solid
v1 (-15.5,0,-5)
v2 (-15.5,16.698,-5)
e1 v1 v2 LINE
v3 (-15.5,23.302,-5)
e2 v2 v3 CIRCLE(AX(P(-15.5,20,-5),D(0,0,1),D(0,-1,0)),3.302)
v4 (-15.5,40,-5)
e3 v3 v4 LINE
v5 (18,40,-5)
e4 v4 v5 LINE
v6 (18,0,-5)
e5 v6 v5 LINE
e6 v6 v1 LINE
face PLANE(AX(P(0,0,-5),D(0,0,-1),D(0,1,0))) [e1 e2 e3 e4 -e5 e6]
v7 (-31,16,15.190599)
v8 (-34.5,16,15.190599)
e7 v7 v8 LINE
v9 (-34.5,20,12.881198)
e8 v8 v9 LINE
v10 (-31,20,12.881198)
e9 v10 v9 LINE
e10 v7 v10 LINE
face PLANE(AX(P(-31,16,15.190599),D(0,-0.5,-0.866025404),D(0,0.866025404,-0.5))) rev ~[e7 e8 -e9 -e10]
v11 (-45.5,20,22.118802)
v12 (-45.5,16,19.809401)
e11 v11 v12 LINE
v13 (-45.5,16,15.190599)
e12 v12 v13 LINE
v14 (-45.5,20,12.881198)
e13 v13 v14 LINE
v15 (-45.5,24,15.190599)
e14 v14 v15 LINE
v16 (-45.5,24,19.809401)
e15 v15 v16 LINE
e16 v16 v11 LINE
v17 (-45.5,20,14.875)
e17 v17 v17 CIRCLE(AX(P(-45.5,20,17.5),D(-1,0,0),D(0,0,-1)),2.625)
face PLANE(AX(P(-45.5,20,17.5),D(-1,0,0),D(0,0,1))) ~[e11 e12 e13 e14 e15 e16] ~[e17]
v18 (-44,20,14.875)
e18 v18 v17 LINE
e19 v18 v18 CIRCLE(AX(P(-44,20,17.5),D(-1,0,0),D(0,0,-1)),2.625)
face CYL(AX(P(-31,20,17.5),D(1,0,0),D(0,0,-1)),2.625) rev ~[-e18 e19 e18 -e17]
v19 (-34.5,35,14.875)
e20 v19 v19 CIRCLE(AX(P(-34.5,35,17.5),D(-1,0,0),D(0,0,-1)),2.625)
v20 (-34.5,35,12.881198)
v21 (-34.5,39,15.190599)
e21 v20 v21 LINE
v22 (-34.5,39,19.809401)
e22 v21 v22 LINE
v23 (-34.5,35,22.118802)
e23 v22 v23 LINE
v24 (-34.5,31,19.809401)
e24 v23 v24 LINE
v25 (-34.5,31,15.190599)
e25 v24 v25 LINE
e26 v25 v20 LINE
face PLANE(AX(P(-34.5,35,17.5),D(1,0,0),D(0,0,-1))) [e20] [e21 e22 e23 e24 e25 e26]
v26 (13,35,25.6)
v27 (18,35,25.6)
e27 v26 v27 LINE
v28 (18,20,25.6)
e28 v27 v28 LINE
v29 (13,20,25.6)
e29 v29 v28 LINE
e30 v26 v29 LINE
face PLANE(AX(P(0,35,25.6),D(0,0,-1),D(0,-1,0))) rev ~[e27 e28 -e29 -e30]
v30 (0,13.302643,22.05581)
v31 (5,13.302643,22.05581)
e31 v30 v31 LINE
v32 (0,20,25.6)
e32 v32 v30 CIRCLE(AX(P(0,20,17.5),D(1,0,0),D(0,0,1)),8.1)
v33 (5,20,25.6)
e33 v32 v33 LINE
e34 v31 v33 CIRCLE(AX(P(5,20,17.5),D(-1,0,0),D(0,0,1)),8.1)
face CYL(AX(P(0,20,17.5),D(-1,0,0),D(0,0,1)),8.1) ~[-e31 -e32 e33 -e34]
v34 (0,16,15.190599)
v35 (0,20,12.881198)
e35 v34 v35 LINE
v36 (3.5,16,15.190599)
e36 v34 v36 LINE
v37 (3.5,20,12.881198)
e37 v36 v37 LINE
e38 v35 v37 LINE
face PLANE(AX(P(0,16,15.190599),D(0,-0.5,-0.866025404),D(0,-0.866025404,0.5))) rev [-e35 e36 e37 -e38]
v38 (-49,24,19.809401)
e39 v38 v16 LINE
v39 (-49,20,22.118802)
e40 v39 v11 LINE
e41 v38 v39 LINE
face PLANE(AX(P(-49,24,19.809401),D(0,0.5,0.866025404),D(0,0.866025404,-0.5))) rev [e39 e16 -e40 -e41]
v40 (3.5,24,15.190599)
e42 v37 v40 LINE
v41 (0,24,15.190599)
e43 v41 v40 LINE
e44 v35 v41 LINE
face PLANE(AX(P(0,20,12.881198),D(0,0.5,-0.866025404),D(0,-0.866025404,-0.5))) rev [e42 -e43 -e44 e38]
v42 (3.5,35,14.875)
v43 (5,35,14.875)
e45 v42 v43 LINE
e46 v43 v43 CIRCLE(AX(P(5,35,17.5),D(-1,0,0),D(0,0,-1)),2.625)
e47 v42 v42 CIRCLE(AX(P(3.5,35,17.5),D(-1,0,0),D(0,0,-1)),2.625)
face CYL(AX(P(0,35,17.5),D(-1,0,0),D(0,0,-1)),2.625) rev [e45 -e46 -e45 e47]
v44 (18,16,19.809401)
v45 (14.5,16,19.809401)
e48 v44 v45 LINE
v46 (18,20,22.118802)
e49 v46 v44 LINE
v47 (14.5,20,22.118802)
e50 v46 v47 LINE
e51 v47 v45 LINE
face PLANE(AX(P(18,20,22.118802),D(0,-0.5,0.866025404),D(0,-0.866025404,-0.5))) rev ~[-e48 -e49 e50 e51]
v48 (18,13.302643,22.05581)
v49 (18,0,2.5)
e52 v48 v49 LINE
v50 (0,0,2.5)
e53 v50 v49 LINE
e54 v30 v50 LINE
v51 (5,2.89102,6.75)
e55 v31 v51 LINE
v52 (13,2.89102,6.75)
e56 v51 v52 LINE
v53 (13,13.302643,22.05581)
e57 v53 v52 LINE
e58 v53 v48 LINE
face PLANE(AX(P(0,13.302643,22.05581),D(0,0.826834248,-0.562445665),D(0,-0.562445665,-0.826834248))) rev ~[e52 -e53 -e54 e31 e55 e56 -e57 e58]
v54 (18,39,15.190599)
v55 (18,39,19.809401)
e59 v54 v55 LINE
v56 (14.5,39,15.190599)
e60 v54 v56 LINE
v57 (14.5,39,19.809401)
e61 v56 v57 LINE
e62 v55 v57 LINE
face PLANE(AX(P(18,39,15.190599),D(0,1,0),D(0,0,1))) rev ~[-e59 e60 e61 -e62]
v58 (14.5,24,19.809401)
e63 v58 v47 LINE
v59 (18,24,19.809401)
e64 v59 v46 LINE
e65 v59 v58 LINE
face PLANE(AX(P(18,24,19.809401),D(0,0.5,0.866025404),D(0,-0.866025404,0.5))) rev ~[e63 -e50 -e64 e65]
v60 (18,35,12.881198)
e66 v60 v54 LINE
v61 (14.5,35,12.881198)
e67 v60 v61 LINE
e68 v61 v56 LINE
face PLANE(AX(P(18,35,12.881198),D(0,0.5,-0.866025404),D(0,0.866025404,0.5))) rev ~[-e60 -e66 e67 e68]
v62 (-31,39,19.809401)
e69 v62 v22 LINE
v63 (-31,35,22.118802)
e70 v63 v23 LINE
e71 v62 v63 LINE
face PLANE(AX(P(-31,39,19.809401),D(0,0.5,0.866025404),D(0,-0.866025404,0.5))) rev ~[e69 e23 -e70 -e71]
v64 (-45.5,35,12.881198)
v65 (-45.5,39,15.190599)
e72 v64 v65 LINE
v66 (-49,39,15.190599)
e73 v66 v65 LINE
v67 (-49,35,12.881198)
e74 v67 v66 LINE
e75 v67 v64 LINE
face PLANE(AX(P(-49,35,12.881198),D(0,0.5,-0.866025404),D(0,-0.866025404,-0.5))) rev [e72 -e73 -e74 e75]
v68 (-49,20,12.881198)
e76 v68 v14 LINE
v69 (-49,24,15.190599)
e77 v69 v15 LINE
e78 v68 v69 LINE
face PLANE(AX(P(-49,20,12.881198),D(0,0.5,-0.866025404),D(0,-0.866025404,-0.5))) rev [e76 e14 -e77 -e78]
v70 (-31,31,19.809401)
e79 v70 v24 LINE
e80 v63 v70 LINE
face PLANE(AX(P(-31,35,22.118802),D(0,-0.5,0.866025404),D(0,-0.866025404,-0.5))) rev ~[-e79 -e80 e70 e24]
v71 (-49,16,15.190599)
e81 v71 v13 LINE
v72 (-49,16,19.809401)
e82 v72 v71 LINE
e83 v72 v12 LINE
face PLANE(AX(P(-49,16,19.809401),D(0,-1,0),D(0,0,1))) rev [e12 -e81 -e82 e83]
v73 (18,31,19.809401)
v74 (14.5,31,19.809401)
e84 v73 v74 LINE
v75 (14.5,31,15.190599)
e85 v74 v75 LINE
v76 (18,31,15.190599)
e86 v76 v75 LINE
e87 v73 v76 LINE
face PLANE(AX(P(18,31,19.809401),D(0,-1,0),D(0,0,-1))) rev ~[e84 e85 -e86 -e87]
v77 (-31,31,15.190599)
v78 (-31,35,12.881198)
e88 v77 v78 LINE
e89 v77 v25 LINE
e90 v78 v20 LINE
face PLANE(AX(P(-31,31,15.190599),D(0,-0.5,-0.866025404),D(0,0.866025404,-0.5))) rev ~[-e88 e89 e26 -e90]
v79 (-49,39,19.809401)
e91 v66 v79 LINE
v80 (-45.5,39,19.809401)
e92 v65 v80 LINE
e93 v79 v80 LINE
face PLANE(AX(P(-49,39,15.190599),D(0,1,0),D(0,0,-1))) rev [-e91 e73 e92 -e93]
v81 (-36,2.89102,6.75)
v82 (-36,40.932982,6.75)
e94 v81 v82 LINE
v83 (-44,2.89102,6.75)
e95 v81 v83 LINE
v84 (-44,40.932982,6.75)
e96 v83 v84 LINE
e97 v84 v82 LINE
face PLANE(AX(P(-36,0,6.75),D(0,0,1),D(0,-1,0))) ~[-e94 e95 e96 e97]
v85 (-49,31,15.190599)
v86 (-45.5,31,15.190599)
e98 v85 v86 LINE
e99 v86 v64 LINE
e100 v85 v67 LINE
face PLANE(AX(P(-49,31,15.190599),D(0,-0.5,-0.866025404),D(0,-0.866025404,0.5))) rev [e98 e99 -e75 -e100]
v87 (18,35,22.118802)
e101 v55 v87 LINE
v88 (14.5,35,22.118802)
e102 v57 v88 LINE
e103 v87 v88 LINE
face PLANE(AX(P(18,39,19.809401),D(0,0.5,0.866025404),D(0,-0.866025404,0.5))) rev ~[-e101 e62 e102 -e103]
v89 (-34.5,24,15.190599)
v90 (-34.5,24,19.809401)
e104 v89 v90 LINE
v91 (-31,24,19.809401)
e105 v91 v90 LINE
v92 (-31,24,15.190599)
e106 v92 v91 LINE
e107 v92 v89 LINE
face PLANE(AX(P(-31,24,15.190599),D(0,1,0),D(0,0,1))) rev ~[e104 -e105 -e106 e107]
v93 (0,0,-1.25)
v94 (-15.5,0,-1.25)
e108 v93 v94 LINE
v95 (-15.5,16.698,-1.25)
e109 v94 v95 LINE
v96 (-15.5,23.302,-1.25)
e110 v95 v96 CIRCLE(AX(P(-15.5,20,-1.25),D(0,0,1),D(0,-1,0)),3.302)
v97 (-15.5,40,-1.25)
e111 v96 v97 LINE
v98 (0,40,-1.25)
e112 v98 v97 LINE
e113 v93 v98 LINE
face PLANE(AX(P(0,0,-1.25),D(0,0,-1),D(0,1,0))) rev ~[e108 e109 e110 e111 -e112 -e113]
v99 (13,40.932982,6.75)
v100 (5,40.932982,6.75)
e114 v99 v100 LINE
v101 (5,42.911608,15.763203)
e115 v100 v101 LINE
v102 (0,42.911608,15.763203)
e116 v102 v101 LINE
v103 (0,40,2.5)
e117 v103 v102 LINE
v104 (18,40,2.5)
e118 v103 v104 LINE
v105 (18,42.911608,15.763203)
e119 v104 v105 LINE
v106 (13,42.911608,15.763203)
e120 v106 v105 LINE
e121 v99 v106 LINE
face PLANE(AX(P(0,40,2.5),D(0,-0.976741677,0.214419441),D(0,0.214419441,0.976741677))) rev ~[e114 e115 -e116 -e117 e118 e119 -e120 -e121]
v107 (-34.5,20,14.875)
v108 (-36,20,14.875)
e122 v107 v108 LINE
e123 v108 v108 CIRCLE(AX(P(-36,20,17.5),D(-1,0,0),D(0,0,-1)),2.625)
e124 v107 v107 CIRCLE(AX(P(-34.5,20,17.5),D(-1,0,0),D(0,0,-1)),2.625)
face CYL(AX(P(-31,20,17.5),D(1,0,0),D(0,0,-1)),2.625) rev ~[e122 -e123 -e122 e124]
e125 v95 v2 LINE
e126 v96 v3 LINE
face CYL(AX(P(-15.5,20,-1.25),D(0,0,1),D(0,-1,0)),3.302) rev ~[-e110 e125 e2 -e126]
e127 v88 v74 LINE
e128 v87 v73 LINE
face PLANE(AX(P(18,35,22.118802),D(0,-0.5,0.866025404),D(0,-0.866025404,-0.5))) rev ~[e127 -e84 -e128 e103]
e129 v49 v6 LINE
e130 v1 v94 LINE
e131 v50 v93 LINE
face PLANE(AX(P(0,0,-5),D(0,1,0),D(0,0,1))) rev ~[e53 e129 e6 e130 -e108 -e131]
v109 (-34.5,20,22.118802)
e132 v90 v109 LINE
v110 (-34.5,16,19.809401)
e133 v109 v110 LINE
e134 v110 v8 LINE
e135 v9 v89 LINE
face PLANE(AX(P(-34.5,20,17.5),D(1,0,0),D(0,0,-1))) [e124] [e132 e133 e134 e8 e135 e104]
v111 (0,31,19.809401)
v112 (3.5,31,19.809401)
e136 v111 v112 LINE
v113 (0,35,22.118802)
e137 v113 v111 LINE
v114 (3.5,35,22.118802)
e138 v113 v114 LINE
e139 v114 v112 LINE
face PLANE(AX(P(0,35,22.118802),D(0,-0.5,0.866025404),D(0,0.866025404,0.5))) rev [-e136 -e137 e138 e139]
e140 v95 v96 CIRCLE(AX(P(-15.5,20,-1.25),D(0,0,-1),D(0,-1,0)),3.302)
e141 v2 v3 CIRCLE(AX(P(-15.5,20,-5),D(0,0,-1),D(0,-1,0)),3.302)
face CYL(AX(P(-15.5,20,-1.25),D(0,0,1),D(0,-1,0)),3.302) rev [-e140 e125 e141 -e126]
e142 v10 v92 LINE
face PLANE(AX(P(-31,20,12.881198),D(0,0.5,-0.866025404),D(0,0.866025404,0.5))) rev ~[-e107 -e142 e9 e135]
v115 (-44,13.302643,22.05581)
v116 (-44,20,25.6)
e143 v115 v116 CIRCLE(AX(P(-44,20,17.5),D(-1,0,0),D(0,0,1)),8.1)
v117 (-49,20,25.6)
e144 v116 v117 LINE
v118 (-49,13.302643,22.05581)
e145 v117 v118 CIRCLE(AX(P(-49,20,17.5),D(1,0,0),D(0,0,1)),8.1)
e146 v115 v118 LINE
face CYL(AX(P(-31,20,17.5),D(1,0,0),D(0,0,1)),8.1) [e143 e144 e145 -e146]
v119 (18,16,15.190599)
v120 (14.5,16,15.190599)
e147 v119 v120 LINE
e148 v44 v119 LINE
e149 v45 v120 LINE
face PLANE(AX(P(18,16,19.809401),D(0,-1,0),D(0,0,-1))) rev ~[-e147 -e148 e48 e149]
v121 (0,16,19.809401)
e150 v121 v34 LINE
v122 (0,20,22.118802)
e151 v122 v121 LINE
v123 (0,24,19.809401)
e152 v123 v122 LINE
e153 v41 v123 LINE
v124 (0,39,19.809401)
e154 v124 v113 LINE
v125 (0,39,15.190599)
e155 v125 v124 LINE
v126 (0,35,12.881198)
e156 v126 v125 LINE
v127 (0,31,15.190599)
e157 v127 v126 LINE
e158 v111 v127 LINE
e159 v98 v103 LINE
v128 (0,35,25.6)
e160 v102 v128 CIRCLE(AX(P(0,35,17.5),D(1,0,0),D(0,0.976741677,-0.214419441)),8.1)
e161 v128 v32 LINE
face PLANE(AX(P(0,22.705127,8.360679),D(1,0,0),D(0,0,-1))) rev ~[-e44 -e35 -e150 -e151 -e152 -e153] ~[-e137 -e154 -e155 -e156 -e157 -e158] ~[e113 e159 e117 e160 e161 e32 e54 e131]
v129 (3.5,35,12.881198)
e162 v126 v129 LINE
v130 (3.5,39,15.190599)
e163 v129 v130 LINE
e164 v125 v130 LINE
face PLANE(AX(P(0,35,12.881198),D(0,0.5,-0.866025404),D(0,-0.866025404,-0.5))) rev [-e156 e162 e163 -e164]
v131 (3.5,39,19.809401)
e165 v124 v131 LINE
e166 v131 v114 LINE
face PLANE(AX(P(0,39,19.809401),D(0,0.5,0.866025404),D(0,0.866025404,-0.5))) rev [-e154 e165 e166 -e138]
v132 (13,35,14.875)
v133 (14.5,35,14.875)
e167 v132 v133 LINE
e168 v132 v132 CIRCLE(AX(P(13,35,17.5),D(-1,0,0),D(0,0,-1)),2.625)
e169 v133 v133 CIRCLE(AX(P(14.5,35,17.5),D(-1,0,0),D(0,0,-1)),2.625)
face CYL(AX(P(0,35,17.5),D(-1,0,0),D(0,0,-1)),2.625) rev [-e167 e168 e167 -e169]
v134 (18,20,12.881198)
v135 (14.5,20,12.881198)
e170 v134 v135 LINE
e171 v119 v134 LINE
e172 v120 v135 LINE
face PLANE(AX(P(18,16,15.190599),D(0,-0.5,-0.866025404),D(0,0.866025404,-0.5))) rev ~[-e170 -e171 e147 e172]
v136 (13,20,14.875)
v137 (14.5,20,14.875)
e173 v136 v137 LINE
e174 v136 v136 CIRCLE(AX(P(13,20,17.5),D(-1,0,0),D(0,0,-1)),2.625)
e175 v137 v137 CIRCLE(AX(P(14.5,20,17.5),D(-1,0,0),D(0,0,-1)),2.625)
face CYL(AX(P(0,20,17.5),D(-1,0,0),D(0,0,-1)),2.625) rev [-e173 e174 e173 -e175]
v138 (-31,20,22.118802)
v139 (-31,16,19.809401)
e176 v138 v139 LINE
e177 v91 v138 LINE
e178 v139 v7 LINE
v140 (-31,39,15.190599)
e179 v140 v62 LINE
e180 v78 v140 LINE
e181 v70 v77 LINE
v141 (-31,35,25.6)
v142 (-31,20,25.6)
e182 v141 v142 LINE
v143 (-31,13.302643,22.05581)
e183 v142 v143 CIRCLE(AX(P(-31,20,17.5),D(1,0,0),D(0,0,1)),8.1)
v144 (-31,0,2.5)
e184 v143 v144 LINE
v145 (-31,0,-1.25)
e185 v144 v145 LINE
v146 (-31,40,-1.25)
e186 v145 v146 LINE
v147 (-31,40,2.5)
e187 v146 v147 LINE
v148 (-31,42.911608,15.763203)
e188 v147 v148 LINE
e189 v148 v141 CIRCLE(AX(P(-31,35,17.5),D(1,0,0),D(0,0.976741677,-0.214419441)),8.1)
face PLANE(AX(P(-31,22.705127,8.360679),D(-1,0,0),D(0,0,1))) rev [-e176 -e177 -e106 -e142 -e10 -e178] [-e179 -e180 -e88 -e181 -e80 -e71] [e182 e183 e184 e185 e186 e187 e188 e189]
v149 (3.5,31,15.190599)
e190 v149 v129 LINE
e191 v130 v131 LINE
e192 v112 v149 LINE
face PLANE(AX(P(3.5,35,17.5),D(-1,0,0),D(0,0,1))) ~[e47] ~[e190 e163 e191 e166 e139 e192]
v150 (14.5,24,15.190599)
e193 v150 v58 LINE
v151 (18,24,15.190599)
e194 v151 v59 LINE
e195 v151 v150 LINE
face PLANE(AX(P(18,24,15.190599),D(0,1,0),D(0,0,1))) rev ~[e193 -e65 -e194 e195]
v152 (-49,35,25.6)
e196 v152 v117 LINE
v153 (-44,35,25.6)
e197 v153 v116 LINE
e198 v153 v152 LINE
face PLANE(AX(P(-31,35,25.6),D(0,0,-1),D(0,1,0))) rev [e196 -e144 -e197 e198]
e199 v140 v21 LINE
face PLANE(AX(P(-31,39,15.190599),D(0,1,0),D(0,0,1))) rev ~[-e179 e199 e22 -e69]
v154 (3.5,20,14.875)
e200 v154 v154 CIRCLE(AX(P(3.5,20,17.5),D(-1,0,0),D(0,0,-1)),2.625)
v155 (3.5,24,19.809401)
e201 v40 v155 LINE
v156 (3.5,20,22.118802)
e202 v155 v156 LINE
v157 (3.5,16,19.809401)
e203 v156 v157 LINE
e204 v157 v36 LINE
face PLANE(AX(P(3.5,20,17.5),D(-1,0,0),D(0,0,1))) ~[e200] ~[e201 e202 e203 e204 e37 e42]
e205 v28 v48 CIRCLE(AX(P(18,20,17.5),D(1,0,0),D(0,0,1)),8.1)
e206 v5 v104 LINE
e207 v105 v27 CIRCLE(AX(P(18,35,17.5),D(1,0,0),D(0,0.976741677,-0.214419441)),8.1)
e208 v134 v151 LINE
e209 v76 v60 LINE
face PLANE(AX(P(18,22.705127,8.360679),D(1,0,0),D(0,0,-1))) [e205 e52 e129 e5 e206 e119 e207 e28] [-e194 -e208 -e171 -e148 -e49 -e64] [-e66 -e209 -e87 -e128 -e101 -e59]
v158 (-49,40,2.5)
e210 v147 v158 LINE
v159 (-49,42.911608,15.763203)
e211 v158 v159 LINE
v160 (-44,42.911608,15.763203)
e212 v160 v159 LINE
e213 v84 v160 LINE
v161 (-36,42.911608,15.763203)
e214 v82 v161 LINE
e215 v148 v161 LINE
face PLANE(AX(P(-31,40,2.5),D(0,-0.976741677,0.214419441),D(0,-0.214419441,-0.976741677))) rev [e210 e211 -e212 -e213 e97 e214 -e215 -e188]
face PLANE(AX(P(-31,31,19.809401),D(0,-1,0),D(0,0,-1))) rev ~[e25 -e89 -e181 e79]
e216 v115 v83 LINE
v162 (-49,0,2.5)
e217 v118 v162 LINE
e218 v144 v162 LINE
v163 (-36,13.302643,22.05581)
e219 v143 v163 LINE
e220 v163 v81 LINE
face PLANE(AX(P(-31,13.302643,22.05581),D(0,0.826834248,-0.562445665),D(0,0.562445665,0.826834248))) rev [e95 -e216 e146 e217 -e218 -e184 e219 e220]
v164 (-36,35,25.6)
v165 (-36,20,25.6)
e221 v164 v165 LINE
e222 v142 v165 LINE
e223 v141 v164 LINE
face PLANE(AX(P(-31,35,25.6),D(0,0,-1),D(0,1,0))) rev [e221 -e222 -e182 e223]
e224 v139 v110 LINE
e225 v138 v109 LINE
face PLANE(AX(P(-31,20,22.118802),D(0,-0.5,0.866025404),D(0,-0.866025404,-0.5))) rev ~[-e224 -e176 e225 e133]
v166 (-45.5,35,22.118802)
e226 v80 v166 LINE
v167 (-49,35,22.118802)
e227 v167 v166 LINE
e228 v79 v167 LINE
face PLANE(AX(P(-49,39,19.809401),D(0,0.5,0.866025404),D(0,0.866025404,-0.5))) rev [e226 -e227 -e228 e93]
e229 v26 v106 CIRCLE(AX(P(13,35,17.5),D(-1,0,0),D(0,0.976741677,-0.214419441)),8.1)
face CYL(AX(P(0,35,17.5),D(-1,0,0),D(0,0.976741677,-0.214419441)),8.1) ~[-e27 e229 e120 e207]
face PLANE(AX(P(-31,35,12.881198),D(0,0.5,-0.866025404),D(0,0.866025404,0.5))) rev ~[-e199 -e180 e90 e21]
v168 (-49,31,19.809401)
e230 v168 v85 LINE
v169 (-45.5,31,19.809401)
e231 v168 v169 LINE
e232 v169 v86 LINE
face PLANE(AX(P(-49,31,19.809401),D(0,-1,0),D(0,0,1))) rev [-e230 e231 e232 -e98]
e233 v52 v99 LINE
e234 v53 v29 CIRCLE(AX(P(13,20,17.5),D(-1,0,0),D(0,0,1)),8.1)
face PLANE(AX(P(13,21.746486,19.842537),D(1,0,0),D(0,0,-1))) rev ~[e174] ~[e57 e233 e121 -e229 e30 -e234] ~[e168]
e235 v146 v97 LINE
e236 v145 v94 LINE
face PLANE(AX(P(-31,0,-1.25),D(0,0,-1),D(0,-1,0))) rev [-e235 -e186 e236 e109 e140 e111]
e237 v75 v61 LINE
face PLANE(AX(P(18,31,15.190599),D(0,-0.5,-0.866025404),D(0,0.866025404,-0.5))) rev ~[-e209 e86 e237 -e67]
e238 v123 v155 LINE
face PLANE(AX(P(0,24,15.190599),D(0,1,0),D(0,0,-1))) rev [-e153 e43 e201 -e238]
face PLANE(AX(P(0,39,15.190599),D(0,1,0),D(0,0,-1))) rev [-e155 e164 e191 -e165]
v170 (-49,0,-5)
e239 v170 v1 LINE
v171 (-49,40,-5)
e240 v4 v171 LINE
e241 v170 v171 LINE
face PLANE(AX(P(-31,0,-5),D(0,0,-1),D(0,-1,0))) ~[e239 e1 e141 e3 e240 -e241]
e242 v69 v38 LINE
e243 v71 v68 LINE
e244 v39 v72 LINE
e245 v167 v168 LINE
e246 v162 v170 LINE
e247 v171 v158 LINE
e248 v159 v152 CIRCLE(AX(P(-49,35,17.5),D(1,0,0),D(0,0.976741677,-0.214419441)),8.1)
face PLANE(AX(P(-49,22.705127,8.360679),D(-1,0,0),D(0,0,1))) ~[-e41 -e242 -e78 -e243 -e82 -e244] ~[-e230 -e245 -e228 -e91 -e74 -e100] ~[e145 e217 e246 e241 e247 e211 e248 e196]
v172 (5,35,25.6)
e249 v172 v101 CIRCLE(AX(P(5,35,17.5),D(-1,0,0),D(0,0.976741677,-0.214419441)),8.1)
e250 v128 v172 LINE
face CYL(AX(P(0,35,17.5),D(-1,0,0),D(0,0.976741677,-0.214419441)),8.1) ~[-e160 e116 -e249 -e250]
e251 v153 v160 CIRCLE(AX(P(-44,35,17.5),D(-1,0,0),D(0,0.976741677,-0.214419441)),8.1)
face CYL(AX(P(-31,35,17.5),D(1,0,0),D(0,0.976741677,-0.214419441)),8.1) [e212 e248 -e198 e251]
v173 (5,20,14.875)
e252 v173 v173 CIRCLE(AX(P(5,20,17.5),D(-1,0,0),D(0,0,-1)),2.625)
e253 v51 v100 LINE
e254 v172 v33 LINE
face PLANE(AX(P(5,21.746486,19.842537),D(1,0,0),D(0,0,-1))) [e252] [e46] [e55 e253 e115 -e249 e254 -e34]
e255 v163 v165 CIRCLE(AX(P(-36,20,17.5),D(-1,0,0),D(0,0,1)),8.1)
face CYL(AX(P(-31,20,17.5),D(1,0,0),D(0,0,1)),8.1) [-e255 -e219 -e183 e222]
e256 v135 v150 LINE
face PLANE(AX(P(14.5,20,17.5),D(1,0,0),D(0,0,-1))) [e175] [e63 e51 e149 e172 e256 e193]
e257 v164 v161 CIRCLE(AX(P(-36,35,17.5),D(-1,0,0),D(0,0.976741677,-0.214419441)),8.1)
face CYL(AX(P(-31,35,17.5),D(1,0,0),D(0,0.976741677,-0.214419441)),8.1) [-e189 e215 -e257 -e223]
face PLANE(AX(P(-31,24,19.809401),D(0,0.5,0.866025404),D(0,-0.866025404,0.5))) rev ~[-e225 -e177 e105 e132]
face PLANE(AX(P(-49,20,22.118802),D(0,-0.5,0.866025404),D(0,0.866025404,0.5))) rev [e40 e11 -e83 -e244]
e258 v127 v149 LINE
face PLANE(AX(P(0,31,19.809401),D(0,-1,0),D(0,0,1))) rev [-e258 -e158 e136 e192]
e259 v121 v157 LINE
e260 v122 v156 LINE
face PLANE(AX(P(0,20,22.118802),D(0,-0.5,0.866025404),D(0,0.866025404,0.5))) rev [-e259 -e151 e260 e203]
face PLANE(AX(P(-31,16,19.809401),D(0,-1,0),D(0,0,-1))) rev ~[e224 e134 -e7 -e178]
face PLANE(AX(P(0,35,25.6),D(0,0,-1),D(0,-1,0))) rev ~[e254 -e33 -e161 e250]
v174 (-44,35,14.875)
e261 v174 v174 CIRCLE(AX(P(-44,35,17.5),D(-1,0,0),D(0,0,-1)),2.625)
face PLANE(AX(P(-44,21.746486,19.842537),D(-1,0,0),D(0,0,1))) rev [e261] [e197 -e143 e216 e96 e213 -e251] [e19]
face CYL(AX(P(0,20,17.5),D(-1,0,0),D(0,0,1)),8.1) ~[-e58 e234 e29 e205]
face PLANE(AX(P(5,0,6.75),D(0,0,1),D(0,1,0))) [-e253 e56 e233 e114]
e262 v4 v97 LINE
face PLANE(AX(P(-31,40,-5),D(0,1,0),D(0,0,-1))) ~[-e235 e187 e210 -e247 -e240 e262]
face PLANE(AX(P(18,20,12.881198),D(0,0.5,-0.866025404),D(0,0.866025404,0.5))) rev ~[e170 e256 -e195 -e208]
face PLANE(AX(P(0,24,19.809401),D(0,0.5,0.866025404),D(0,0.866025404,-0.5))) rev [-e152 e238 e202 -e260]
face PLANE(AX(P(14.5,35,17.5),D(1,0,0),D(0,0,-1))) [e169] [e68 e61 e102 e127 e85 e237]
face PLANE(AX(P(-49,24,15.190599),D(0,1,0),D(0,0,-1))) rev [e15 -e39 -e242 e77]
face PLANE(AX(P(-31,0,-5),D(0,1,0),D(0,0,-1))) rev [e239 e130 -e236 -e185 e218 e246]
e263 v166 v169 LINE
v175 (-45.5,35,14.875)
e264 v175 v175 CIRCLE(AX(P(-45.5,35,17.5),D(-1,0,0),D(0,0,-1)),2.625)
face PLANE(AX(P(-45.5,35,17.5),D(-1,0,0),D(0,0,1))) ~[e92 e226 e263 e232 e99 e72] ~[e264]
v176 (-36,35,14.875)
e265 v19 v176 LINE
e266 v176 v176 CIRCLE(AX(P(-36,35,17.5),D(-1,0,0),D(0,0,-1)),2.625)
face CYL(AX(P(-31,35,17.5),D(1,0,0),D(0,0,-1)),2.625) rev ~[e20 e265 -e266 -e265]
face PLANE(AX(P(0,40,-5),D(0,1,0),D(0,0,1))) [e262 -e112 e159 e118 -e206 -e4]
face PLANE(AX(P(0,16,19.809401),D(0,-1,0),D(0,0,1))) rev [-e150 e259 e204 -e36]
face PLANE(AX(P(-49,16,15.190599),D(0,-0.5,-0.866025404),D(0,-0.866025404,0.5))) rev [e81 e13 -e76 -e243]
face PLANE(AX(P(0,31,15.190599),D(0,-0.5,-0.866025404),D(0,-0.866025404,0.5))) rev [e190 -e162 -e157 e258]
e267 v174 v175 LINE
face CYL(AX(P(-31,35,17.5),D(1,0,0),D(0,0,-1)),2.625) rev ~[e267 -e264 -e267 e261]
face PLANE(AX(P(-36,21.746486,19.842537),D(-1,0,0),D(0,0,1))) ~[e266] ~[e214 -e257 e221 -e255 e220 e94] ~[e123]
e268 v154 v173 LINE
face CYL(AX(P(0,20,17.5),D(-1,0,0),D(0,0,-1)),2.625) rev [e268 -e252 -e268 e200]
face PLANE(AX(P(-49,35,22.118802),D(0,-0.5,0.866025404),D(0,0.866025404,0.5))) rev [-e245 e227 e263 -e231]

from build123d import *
from build123d.topology import SkipClean

# Parameters (mm, degrees)
SKETCH1_R               = 2.625
BOSS_EXTRUDE1_DEPTH     = 18
SKETCH2_W               = 3.75
SKETCH2_H               = 40
BOSS_EXTRUDE2_DEPTH     = 15.5
CUT_EXTRUDE1_DEPTH      = 3.5
CUT_EXTRUDE2_DEPTH      = 4
CUT_EXTRUDE2_DEPTH_BACK = 4
SKETCH4_W               = 26.185074211
SKETCH4_H               = 43.492971865
CUT_EXTRUDE3_DEPTH      = 3.75


with BuildPart() as part:
    # Sketch1 → Boss-Extrude1 (new body)
    with BuildSketch(Plane(origin=(0, 0, 0), x_dir=(0, 0, -1), z_dir=(1, 0, 0))):
        with BuildLine():
            Line((0, 0), (5, 0))
            Line((5, 0), (5, 40))
            Line((5, 40), (0, 40))
            Line((0, 40), (-2.5, 40))
            Line((-2.5, 40), (-15.763202528, 42.911607583))
            ThreePointArc((-15.763202528, 42.911607583), (-22.576511621, 41.311816677), (-25.6, 35))
            Line((-25.6, 35), (-25.6, 20))
            ThreePointArc((-25.6, 20), (-24.659331675, 16.211336651), (-22.055809883, 13.302642588))
            Line((-22.055809883, 13.302642588), (-2.5, 0))
            Line((-2.5, 0), (0, 0))
        make_face()
        with Locations((-17.5, 35)):
            Circle(SKETCH1_R, mode=Mode.SUBTRACT)
        with Locations((-17.5, 20)):
            Circle(SKETCH1_R, mode=Mode.SUBTRACT)
    extrude(amount=BOSS_EXTRUDE1_DEPTH)

    # Sketch2 → Boss-Extrude2 (add)
    with BuildSketch(Plane.ZY):
        with Locations((-3.125, 20)):
            Rectangle(SKETCH2_W, SKETCH2_H)
    extrude(amount=BOSS_EXTRUDE2_DEPTH)

    # Sketch3 → Cut-Extrude1 (cut)
    with BuildSketch(Plane(origin=(18, 0, 0), x_dir=(0, 0, -1), z_dir=(1, 0, 0))):
        Polygon((-12.881197846, 35), (-15.190598923, 39), (-19.809401077, 39), (-22.118802154, 35), (-19.809401077, 31), (-15.190598923, 31), align=None)
        Polygon((-12.881197846, 20), (-15.190598923, 24), (-19.809401077, 24), (-22.118802154, 20), (-19.809401077, 16), (-15.190598923, 16), align=None)
    cut_extrude1 = extrude(amount=-CUT_EXTRUDE1_DEPTH, mode=Mode.SUBTRACT)

    # Mirror1: Cut-Extrude1 across plane
    add(cut_extrude1.mirror(Plane(origin=(9, 0, 0), x_dir=(0, 0, 1), z_dir=(1, 0, 0))), mode=Mode.SUBTRACT)

    # Sketch4 → Cut-Extrude2 (cut, two sides: drawn at the far end of the back side and taken through both)
    with BuildSketch(Plane(origin=(9, 0, 0), x_dir=(0, 0, -1), z_dir=(1, 0, 0)).offset(-CUT_EXTRUDE2_DEPTH_BACK)):
        with Locations((-19.842537105, 21.746485933)):
            Rectangle(SKETCH4_W, SKETCH4_H)
    extrude(amount=CUT_EXTRUDE2_DEPTH + CUT_EXTRUDE2_DEPTH_BACK, mode=Mode.SUBTRACT)

    # Sketch5 → Cut-Extrude3 (cut)
    with BuildSketch(Plane.XY.offset(-1.25)):
        with BuildLine():
            Line((-15.5, 23.302), (-15.5, 16.698))
            ThreePointArc((-15.5, 16.698), (-12.198, 20), (-15.5, 23.302))
        make_face()
    extrude(amount=-CUT_EXTRUDE3_DEPTH, mode=Mode.SUBTRACT)

    # Mirror2: part across plane


with BuildPart() as part_1:
    with SkipClean():  # the faces are left unmerged after this step: merging them gives an invalid solid
        add(part.part)
        add(part.part.mirror(Plane(origin=(-15.5, 0, 0), x_dir=(0, 0, 1), z_dir=(1, 0, 0))))


solid = part_1.part
